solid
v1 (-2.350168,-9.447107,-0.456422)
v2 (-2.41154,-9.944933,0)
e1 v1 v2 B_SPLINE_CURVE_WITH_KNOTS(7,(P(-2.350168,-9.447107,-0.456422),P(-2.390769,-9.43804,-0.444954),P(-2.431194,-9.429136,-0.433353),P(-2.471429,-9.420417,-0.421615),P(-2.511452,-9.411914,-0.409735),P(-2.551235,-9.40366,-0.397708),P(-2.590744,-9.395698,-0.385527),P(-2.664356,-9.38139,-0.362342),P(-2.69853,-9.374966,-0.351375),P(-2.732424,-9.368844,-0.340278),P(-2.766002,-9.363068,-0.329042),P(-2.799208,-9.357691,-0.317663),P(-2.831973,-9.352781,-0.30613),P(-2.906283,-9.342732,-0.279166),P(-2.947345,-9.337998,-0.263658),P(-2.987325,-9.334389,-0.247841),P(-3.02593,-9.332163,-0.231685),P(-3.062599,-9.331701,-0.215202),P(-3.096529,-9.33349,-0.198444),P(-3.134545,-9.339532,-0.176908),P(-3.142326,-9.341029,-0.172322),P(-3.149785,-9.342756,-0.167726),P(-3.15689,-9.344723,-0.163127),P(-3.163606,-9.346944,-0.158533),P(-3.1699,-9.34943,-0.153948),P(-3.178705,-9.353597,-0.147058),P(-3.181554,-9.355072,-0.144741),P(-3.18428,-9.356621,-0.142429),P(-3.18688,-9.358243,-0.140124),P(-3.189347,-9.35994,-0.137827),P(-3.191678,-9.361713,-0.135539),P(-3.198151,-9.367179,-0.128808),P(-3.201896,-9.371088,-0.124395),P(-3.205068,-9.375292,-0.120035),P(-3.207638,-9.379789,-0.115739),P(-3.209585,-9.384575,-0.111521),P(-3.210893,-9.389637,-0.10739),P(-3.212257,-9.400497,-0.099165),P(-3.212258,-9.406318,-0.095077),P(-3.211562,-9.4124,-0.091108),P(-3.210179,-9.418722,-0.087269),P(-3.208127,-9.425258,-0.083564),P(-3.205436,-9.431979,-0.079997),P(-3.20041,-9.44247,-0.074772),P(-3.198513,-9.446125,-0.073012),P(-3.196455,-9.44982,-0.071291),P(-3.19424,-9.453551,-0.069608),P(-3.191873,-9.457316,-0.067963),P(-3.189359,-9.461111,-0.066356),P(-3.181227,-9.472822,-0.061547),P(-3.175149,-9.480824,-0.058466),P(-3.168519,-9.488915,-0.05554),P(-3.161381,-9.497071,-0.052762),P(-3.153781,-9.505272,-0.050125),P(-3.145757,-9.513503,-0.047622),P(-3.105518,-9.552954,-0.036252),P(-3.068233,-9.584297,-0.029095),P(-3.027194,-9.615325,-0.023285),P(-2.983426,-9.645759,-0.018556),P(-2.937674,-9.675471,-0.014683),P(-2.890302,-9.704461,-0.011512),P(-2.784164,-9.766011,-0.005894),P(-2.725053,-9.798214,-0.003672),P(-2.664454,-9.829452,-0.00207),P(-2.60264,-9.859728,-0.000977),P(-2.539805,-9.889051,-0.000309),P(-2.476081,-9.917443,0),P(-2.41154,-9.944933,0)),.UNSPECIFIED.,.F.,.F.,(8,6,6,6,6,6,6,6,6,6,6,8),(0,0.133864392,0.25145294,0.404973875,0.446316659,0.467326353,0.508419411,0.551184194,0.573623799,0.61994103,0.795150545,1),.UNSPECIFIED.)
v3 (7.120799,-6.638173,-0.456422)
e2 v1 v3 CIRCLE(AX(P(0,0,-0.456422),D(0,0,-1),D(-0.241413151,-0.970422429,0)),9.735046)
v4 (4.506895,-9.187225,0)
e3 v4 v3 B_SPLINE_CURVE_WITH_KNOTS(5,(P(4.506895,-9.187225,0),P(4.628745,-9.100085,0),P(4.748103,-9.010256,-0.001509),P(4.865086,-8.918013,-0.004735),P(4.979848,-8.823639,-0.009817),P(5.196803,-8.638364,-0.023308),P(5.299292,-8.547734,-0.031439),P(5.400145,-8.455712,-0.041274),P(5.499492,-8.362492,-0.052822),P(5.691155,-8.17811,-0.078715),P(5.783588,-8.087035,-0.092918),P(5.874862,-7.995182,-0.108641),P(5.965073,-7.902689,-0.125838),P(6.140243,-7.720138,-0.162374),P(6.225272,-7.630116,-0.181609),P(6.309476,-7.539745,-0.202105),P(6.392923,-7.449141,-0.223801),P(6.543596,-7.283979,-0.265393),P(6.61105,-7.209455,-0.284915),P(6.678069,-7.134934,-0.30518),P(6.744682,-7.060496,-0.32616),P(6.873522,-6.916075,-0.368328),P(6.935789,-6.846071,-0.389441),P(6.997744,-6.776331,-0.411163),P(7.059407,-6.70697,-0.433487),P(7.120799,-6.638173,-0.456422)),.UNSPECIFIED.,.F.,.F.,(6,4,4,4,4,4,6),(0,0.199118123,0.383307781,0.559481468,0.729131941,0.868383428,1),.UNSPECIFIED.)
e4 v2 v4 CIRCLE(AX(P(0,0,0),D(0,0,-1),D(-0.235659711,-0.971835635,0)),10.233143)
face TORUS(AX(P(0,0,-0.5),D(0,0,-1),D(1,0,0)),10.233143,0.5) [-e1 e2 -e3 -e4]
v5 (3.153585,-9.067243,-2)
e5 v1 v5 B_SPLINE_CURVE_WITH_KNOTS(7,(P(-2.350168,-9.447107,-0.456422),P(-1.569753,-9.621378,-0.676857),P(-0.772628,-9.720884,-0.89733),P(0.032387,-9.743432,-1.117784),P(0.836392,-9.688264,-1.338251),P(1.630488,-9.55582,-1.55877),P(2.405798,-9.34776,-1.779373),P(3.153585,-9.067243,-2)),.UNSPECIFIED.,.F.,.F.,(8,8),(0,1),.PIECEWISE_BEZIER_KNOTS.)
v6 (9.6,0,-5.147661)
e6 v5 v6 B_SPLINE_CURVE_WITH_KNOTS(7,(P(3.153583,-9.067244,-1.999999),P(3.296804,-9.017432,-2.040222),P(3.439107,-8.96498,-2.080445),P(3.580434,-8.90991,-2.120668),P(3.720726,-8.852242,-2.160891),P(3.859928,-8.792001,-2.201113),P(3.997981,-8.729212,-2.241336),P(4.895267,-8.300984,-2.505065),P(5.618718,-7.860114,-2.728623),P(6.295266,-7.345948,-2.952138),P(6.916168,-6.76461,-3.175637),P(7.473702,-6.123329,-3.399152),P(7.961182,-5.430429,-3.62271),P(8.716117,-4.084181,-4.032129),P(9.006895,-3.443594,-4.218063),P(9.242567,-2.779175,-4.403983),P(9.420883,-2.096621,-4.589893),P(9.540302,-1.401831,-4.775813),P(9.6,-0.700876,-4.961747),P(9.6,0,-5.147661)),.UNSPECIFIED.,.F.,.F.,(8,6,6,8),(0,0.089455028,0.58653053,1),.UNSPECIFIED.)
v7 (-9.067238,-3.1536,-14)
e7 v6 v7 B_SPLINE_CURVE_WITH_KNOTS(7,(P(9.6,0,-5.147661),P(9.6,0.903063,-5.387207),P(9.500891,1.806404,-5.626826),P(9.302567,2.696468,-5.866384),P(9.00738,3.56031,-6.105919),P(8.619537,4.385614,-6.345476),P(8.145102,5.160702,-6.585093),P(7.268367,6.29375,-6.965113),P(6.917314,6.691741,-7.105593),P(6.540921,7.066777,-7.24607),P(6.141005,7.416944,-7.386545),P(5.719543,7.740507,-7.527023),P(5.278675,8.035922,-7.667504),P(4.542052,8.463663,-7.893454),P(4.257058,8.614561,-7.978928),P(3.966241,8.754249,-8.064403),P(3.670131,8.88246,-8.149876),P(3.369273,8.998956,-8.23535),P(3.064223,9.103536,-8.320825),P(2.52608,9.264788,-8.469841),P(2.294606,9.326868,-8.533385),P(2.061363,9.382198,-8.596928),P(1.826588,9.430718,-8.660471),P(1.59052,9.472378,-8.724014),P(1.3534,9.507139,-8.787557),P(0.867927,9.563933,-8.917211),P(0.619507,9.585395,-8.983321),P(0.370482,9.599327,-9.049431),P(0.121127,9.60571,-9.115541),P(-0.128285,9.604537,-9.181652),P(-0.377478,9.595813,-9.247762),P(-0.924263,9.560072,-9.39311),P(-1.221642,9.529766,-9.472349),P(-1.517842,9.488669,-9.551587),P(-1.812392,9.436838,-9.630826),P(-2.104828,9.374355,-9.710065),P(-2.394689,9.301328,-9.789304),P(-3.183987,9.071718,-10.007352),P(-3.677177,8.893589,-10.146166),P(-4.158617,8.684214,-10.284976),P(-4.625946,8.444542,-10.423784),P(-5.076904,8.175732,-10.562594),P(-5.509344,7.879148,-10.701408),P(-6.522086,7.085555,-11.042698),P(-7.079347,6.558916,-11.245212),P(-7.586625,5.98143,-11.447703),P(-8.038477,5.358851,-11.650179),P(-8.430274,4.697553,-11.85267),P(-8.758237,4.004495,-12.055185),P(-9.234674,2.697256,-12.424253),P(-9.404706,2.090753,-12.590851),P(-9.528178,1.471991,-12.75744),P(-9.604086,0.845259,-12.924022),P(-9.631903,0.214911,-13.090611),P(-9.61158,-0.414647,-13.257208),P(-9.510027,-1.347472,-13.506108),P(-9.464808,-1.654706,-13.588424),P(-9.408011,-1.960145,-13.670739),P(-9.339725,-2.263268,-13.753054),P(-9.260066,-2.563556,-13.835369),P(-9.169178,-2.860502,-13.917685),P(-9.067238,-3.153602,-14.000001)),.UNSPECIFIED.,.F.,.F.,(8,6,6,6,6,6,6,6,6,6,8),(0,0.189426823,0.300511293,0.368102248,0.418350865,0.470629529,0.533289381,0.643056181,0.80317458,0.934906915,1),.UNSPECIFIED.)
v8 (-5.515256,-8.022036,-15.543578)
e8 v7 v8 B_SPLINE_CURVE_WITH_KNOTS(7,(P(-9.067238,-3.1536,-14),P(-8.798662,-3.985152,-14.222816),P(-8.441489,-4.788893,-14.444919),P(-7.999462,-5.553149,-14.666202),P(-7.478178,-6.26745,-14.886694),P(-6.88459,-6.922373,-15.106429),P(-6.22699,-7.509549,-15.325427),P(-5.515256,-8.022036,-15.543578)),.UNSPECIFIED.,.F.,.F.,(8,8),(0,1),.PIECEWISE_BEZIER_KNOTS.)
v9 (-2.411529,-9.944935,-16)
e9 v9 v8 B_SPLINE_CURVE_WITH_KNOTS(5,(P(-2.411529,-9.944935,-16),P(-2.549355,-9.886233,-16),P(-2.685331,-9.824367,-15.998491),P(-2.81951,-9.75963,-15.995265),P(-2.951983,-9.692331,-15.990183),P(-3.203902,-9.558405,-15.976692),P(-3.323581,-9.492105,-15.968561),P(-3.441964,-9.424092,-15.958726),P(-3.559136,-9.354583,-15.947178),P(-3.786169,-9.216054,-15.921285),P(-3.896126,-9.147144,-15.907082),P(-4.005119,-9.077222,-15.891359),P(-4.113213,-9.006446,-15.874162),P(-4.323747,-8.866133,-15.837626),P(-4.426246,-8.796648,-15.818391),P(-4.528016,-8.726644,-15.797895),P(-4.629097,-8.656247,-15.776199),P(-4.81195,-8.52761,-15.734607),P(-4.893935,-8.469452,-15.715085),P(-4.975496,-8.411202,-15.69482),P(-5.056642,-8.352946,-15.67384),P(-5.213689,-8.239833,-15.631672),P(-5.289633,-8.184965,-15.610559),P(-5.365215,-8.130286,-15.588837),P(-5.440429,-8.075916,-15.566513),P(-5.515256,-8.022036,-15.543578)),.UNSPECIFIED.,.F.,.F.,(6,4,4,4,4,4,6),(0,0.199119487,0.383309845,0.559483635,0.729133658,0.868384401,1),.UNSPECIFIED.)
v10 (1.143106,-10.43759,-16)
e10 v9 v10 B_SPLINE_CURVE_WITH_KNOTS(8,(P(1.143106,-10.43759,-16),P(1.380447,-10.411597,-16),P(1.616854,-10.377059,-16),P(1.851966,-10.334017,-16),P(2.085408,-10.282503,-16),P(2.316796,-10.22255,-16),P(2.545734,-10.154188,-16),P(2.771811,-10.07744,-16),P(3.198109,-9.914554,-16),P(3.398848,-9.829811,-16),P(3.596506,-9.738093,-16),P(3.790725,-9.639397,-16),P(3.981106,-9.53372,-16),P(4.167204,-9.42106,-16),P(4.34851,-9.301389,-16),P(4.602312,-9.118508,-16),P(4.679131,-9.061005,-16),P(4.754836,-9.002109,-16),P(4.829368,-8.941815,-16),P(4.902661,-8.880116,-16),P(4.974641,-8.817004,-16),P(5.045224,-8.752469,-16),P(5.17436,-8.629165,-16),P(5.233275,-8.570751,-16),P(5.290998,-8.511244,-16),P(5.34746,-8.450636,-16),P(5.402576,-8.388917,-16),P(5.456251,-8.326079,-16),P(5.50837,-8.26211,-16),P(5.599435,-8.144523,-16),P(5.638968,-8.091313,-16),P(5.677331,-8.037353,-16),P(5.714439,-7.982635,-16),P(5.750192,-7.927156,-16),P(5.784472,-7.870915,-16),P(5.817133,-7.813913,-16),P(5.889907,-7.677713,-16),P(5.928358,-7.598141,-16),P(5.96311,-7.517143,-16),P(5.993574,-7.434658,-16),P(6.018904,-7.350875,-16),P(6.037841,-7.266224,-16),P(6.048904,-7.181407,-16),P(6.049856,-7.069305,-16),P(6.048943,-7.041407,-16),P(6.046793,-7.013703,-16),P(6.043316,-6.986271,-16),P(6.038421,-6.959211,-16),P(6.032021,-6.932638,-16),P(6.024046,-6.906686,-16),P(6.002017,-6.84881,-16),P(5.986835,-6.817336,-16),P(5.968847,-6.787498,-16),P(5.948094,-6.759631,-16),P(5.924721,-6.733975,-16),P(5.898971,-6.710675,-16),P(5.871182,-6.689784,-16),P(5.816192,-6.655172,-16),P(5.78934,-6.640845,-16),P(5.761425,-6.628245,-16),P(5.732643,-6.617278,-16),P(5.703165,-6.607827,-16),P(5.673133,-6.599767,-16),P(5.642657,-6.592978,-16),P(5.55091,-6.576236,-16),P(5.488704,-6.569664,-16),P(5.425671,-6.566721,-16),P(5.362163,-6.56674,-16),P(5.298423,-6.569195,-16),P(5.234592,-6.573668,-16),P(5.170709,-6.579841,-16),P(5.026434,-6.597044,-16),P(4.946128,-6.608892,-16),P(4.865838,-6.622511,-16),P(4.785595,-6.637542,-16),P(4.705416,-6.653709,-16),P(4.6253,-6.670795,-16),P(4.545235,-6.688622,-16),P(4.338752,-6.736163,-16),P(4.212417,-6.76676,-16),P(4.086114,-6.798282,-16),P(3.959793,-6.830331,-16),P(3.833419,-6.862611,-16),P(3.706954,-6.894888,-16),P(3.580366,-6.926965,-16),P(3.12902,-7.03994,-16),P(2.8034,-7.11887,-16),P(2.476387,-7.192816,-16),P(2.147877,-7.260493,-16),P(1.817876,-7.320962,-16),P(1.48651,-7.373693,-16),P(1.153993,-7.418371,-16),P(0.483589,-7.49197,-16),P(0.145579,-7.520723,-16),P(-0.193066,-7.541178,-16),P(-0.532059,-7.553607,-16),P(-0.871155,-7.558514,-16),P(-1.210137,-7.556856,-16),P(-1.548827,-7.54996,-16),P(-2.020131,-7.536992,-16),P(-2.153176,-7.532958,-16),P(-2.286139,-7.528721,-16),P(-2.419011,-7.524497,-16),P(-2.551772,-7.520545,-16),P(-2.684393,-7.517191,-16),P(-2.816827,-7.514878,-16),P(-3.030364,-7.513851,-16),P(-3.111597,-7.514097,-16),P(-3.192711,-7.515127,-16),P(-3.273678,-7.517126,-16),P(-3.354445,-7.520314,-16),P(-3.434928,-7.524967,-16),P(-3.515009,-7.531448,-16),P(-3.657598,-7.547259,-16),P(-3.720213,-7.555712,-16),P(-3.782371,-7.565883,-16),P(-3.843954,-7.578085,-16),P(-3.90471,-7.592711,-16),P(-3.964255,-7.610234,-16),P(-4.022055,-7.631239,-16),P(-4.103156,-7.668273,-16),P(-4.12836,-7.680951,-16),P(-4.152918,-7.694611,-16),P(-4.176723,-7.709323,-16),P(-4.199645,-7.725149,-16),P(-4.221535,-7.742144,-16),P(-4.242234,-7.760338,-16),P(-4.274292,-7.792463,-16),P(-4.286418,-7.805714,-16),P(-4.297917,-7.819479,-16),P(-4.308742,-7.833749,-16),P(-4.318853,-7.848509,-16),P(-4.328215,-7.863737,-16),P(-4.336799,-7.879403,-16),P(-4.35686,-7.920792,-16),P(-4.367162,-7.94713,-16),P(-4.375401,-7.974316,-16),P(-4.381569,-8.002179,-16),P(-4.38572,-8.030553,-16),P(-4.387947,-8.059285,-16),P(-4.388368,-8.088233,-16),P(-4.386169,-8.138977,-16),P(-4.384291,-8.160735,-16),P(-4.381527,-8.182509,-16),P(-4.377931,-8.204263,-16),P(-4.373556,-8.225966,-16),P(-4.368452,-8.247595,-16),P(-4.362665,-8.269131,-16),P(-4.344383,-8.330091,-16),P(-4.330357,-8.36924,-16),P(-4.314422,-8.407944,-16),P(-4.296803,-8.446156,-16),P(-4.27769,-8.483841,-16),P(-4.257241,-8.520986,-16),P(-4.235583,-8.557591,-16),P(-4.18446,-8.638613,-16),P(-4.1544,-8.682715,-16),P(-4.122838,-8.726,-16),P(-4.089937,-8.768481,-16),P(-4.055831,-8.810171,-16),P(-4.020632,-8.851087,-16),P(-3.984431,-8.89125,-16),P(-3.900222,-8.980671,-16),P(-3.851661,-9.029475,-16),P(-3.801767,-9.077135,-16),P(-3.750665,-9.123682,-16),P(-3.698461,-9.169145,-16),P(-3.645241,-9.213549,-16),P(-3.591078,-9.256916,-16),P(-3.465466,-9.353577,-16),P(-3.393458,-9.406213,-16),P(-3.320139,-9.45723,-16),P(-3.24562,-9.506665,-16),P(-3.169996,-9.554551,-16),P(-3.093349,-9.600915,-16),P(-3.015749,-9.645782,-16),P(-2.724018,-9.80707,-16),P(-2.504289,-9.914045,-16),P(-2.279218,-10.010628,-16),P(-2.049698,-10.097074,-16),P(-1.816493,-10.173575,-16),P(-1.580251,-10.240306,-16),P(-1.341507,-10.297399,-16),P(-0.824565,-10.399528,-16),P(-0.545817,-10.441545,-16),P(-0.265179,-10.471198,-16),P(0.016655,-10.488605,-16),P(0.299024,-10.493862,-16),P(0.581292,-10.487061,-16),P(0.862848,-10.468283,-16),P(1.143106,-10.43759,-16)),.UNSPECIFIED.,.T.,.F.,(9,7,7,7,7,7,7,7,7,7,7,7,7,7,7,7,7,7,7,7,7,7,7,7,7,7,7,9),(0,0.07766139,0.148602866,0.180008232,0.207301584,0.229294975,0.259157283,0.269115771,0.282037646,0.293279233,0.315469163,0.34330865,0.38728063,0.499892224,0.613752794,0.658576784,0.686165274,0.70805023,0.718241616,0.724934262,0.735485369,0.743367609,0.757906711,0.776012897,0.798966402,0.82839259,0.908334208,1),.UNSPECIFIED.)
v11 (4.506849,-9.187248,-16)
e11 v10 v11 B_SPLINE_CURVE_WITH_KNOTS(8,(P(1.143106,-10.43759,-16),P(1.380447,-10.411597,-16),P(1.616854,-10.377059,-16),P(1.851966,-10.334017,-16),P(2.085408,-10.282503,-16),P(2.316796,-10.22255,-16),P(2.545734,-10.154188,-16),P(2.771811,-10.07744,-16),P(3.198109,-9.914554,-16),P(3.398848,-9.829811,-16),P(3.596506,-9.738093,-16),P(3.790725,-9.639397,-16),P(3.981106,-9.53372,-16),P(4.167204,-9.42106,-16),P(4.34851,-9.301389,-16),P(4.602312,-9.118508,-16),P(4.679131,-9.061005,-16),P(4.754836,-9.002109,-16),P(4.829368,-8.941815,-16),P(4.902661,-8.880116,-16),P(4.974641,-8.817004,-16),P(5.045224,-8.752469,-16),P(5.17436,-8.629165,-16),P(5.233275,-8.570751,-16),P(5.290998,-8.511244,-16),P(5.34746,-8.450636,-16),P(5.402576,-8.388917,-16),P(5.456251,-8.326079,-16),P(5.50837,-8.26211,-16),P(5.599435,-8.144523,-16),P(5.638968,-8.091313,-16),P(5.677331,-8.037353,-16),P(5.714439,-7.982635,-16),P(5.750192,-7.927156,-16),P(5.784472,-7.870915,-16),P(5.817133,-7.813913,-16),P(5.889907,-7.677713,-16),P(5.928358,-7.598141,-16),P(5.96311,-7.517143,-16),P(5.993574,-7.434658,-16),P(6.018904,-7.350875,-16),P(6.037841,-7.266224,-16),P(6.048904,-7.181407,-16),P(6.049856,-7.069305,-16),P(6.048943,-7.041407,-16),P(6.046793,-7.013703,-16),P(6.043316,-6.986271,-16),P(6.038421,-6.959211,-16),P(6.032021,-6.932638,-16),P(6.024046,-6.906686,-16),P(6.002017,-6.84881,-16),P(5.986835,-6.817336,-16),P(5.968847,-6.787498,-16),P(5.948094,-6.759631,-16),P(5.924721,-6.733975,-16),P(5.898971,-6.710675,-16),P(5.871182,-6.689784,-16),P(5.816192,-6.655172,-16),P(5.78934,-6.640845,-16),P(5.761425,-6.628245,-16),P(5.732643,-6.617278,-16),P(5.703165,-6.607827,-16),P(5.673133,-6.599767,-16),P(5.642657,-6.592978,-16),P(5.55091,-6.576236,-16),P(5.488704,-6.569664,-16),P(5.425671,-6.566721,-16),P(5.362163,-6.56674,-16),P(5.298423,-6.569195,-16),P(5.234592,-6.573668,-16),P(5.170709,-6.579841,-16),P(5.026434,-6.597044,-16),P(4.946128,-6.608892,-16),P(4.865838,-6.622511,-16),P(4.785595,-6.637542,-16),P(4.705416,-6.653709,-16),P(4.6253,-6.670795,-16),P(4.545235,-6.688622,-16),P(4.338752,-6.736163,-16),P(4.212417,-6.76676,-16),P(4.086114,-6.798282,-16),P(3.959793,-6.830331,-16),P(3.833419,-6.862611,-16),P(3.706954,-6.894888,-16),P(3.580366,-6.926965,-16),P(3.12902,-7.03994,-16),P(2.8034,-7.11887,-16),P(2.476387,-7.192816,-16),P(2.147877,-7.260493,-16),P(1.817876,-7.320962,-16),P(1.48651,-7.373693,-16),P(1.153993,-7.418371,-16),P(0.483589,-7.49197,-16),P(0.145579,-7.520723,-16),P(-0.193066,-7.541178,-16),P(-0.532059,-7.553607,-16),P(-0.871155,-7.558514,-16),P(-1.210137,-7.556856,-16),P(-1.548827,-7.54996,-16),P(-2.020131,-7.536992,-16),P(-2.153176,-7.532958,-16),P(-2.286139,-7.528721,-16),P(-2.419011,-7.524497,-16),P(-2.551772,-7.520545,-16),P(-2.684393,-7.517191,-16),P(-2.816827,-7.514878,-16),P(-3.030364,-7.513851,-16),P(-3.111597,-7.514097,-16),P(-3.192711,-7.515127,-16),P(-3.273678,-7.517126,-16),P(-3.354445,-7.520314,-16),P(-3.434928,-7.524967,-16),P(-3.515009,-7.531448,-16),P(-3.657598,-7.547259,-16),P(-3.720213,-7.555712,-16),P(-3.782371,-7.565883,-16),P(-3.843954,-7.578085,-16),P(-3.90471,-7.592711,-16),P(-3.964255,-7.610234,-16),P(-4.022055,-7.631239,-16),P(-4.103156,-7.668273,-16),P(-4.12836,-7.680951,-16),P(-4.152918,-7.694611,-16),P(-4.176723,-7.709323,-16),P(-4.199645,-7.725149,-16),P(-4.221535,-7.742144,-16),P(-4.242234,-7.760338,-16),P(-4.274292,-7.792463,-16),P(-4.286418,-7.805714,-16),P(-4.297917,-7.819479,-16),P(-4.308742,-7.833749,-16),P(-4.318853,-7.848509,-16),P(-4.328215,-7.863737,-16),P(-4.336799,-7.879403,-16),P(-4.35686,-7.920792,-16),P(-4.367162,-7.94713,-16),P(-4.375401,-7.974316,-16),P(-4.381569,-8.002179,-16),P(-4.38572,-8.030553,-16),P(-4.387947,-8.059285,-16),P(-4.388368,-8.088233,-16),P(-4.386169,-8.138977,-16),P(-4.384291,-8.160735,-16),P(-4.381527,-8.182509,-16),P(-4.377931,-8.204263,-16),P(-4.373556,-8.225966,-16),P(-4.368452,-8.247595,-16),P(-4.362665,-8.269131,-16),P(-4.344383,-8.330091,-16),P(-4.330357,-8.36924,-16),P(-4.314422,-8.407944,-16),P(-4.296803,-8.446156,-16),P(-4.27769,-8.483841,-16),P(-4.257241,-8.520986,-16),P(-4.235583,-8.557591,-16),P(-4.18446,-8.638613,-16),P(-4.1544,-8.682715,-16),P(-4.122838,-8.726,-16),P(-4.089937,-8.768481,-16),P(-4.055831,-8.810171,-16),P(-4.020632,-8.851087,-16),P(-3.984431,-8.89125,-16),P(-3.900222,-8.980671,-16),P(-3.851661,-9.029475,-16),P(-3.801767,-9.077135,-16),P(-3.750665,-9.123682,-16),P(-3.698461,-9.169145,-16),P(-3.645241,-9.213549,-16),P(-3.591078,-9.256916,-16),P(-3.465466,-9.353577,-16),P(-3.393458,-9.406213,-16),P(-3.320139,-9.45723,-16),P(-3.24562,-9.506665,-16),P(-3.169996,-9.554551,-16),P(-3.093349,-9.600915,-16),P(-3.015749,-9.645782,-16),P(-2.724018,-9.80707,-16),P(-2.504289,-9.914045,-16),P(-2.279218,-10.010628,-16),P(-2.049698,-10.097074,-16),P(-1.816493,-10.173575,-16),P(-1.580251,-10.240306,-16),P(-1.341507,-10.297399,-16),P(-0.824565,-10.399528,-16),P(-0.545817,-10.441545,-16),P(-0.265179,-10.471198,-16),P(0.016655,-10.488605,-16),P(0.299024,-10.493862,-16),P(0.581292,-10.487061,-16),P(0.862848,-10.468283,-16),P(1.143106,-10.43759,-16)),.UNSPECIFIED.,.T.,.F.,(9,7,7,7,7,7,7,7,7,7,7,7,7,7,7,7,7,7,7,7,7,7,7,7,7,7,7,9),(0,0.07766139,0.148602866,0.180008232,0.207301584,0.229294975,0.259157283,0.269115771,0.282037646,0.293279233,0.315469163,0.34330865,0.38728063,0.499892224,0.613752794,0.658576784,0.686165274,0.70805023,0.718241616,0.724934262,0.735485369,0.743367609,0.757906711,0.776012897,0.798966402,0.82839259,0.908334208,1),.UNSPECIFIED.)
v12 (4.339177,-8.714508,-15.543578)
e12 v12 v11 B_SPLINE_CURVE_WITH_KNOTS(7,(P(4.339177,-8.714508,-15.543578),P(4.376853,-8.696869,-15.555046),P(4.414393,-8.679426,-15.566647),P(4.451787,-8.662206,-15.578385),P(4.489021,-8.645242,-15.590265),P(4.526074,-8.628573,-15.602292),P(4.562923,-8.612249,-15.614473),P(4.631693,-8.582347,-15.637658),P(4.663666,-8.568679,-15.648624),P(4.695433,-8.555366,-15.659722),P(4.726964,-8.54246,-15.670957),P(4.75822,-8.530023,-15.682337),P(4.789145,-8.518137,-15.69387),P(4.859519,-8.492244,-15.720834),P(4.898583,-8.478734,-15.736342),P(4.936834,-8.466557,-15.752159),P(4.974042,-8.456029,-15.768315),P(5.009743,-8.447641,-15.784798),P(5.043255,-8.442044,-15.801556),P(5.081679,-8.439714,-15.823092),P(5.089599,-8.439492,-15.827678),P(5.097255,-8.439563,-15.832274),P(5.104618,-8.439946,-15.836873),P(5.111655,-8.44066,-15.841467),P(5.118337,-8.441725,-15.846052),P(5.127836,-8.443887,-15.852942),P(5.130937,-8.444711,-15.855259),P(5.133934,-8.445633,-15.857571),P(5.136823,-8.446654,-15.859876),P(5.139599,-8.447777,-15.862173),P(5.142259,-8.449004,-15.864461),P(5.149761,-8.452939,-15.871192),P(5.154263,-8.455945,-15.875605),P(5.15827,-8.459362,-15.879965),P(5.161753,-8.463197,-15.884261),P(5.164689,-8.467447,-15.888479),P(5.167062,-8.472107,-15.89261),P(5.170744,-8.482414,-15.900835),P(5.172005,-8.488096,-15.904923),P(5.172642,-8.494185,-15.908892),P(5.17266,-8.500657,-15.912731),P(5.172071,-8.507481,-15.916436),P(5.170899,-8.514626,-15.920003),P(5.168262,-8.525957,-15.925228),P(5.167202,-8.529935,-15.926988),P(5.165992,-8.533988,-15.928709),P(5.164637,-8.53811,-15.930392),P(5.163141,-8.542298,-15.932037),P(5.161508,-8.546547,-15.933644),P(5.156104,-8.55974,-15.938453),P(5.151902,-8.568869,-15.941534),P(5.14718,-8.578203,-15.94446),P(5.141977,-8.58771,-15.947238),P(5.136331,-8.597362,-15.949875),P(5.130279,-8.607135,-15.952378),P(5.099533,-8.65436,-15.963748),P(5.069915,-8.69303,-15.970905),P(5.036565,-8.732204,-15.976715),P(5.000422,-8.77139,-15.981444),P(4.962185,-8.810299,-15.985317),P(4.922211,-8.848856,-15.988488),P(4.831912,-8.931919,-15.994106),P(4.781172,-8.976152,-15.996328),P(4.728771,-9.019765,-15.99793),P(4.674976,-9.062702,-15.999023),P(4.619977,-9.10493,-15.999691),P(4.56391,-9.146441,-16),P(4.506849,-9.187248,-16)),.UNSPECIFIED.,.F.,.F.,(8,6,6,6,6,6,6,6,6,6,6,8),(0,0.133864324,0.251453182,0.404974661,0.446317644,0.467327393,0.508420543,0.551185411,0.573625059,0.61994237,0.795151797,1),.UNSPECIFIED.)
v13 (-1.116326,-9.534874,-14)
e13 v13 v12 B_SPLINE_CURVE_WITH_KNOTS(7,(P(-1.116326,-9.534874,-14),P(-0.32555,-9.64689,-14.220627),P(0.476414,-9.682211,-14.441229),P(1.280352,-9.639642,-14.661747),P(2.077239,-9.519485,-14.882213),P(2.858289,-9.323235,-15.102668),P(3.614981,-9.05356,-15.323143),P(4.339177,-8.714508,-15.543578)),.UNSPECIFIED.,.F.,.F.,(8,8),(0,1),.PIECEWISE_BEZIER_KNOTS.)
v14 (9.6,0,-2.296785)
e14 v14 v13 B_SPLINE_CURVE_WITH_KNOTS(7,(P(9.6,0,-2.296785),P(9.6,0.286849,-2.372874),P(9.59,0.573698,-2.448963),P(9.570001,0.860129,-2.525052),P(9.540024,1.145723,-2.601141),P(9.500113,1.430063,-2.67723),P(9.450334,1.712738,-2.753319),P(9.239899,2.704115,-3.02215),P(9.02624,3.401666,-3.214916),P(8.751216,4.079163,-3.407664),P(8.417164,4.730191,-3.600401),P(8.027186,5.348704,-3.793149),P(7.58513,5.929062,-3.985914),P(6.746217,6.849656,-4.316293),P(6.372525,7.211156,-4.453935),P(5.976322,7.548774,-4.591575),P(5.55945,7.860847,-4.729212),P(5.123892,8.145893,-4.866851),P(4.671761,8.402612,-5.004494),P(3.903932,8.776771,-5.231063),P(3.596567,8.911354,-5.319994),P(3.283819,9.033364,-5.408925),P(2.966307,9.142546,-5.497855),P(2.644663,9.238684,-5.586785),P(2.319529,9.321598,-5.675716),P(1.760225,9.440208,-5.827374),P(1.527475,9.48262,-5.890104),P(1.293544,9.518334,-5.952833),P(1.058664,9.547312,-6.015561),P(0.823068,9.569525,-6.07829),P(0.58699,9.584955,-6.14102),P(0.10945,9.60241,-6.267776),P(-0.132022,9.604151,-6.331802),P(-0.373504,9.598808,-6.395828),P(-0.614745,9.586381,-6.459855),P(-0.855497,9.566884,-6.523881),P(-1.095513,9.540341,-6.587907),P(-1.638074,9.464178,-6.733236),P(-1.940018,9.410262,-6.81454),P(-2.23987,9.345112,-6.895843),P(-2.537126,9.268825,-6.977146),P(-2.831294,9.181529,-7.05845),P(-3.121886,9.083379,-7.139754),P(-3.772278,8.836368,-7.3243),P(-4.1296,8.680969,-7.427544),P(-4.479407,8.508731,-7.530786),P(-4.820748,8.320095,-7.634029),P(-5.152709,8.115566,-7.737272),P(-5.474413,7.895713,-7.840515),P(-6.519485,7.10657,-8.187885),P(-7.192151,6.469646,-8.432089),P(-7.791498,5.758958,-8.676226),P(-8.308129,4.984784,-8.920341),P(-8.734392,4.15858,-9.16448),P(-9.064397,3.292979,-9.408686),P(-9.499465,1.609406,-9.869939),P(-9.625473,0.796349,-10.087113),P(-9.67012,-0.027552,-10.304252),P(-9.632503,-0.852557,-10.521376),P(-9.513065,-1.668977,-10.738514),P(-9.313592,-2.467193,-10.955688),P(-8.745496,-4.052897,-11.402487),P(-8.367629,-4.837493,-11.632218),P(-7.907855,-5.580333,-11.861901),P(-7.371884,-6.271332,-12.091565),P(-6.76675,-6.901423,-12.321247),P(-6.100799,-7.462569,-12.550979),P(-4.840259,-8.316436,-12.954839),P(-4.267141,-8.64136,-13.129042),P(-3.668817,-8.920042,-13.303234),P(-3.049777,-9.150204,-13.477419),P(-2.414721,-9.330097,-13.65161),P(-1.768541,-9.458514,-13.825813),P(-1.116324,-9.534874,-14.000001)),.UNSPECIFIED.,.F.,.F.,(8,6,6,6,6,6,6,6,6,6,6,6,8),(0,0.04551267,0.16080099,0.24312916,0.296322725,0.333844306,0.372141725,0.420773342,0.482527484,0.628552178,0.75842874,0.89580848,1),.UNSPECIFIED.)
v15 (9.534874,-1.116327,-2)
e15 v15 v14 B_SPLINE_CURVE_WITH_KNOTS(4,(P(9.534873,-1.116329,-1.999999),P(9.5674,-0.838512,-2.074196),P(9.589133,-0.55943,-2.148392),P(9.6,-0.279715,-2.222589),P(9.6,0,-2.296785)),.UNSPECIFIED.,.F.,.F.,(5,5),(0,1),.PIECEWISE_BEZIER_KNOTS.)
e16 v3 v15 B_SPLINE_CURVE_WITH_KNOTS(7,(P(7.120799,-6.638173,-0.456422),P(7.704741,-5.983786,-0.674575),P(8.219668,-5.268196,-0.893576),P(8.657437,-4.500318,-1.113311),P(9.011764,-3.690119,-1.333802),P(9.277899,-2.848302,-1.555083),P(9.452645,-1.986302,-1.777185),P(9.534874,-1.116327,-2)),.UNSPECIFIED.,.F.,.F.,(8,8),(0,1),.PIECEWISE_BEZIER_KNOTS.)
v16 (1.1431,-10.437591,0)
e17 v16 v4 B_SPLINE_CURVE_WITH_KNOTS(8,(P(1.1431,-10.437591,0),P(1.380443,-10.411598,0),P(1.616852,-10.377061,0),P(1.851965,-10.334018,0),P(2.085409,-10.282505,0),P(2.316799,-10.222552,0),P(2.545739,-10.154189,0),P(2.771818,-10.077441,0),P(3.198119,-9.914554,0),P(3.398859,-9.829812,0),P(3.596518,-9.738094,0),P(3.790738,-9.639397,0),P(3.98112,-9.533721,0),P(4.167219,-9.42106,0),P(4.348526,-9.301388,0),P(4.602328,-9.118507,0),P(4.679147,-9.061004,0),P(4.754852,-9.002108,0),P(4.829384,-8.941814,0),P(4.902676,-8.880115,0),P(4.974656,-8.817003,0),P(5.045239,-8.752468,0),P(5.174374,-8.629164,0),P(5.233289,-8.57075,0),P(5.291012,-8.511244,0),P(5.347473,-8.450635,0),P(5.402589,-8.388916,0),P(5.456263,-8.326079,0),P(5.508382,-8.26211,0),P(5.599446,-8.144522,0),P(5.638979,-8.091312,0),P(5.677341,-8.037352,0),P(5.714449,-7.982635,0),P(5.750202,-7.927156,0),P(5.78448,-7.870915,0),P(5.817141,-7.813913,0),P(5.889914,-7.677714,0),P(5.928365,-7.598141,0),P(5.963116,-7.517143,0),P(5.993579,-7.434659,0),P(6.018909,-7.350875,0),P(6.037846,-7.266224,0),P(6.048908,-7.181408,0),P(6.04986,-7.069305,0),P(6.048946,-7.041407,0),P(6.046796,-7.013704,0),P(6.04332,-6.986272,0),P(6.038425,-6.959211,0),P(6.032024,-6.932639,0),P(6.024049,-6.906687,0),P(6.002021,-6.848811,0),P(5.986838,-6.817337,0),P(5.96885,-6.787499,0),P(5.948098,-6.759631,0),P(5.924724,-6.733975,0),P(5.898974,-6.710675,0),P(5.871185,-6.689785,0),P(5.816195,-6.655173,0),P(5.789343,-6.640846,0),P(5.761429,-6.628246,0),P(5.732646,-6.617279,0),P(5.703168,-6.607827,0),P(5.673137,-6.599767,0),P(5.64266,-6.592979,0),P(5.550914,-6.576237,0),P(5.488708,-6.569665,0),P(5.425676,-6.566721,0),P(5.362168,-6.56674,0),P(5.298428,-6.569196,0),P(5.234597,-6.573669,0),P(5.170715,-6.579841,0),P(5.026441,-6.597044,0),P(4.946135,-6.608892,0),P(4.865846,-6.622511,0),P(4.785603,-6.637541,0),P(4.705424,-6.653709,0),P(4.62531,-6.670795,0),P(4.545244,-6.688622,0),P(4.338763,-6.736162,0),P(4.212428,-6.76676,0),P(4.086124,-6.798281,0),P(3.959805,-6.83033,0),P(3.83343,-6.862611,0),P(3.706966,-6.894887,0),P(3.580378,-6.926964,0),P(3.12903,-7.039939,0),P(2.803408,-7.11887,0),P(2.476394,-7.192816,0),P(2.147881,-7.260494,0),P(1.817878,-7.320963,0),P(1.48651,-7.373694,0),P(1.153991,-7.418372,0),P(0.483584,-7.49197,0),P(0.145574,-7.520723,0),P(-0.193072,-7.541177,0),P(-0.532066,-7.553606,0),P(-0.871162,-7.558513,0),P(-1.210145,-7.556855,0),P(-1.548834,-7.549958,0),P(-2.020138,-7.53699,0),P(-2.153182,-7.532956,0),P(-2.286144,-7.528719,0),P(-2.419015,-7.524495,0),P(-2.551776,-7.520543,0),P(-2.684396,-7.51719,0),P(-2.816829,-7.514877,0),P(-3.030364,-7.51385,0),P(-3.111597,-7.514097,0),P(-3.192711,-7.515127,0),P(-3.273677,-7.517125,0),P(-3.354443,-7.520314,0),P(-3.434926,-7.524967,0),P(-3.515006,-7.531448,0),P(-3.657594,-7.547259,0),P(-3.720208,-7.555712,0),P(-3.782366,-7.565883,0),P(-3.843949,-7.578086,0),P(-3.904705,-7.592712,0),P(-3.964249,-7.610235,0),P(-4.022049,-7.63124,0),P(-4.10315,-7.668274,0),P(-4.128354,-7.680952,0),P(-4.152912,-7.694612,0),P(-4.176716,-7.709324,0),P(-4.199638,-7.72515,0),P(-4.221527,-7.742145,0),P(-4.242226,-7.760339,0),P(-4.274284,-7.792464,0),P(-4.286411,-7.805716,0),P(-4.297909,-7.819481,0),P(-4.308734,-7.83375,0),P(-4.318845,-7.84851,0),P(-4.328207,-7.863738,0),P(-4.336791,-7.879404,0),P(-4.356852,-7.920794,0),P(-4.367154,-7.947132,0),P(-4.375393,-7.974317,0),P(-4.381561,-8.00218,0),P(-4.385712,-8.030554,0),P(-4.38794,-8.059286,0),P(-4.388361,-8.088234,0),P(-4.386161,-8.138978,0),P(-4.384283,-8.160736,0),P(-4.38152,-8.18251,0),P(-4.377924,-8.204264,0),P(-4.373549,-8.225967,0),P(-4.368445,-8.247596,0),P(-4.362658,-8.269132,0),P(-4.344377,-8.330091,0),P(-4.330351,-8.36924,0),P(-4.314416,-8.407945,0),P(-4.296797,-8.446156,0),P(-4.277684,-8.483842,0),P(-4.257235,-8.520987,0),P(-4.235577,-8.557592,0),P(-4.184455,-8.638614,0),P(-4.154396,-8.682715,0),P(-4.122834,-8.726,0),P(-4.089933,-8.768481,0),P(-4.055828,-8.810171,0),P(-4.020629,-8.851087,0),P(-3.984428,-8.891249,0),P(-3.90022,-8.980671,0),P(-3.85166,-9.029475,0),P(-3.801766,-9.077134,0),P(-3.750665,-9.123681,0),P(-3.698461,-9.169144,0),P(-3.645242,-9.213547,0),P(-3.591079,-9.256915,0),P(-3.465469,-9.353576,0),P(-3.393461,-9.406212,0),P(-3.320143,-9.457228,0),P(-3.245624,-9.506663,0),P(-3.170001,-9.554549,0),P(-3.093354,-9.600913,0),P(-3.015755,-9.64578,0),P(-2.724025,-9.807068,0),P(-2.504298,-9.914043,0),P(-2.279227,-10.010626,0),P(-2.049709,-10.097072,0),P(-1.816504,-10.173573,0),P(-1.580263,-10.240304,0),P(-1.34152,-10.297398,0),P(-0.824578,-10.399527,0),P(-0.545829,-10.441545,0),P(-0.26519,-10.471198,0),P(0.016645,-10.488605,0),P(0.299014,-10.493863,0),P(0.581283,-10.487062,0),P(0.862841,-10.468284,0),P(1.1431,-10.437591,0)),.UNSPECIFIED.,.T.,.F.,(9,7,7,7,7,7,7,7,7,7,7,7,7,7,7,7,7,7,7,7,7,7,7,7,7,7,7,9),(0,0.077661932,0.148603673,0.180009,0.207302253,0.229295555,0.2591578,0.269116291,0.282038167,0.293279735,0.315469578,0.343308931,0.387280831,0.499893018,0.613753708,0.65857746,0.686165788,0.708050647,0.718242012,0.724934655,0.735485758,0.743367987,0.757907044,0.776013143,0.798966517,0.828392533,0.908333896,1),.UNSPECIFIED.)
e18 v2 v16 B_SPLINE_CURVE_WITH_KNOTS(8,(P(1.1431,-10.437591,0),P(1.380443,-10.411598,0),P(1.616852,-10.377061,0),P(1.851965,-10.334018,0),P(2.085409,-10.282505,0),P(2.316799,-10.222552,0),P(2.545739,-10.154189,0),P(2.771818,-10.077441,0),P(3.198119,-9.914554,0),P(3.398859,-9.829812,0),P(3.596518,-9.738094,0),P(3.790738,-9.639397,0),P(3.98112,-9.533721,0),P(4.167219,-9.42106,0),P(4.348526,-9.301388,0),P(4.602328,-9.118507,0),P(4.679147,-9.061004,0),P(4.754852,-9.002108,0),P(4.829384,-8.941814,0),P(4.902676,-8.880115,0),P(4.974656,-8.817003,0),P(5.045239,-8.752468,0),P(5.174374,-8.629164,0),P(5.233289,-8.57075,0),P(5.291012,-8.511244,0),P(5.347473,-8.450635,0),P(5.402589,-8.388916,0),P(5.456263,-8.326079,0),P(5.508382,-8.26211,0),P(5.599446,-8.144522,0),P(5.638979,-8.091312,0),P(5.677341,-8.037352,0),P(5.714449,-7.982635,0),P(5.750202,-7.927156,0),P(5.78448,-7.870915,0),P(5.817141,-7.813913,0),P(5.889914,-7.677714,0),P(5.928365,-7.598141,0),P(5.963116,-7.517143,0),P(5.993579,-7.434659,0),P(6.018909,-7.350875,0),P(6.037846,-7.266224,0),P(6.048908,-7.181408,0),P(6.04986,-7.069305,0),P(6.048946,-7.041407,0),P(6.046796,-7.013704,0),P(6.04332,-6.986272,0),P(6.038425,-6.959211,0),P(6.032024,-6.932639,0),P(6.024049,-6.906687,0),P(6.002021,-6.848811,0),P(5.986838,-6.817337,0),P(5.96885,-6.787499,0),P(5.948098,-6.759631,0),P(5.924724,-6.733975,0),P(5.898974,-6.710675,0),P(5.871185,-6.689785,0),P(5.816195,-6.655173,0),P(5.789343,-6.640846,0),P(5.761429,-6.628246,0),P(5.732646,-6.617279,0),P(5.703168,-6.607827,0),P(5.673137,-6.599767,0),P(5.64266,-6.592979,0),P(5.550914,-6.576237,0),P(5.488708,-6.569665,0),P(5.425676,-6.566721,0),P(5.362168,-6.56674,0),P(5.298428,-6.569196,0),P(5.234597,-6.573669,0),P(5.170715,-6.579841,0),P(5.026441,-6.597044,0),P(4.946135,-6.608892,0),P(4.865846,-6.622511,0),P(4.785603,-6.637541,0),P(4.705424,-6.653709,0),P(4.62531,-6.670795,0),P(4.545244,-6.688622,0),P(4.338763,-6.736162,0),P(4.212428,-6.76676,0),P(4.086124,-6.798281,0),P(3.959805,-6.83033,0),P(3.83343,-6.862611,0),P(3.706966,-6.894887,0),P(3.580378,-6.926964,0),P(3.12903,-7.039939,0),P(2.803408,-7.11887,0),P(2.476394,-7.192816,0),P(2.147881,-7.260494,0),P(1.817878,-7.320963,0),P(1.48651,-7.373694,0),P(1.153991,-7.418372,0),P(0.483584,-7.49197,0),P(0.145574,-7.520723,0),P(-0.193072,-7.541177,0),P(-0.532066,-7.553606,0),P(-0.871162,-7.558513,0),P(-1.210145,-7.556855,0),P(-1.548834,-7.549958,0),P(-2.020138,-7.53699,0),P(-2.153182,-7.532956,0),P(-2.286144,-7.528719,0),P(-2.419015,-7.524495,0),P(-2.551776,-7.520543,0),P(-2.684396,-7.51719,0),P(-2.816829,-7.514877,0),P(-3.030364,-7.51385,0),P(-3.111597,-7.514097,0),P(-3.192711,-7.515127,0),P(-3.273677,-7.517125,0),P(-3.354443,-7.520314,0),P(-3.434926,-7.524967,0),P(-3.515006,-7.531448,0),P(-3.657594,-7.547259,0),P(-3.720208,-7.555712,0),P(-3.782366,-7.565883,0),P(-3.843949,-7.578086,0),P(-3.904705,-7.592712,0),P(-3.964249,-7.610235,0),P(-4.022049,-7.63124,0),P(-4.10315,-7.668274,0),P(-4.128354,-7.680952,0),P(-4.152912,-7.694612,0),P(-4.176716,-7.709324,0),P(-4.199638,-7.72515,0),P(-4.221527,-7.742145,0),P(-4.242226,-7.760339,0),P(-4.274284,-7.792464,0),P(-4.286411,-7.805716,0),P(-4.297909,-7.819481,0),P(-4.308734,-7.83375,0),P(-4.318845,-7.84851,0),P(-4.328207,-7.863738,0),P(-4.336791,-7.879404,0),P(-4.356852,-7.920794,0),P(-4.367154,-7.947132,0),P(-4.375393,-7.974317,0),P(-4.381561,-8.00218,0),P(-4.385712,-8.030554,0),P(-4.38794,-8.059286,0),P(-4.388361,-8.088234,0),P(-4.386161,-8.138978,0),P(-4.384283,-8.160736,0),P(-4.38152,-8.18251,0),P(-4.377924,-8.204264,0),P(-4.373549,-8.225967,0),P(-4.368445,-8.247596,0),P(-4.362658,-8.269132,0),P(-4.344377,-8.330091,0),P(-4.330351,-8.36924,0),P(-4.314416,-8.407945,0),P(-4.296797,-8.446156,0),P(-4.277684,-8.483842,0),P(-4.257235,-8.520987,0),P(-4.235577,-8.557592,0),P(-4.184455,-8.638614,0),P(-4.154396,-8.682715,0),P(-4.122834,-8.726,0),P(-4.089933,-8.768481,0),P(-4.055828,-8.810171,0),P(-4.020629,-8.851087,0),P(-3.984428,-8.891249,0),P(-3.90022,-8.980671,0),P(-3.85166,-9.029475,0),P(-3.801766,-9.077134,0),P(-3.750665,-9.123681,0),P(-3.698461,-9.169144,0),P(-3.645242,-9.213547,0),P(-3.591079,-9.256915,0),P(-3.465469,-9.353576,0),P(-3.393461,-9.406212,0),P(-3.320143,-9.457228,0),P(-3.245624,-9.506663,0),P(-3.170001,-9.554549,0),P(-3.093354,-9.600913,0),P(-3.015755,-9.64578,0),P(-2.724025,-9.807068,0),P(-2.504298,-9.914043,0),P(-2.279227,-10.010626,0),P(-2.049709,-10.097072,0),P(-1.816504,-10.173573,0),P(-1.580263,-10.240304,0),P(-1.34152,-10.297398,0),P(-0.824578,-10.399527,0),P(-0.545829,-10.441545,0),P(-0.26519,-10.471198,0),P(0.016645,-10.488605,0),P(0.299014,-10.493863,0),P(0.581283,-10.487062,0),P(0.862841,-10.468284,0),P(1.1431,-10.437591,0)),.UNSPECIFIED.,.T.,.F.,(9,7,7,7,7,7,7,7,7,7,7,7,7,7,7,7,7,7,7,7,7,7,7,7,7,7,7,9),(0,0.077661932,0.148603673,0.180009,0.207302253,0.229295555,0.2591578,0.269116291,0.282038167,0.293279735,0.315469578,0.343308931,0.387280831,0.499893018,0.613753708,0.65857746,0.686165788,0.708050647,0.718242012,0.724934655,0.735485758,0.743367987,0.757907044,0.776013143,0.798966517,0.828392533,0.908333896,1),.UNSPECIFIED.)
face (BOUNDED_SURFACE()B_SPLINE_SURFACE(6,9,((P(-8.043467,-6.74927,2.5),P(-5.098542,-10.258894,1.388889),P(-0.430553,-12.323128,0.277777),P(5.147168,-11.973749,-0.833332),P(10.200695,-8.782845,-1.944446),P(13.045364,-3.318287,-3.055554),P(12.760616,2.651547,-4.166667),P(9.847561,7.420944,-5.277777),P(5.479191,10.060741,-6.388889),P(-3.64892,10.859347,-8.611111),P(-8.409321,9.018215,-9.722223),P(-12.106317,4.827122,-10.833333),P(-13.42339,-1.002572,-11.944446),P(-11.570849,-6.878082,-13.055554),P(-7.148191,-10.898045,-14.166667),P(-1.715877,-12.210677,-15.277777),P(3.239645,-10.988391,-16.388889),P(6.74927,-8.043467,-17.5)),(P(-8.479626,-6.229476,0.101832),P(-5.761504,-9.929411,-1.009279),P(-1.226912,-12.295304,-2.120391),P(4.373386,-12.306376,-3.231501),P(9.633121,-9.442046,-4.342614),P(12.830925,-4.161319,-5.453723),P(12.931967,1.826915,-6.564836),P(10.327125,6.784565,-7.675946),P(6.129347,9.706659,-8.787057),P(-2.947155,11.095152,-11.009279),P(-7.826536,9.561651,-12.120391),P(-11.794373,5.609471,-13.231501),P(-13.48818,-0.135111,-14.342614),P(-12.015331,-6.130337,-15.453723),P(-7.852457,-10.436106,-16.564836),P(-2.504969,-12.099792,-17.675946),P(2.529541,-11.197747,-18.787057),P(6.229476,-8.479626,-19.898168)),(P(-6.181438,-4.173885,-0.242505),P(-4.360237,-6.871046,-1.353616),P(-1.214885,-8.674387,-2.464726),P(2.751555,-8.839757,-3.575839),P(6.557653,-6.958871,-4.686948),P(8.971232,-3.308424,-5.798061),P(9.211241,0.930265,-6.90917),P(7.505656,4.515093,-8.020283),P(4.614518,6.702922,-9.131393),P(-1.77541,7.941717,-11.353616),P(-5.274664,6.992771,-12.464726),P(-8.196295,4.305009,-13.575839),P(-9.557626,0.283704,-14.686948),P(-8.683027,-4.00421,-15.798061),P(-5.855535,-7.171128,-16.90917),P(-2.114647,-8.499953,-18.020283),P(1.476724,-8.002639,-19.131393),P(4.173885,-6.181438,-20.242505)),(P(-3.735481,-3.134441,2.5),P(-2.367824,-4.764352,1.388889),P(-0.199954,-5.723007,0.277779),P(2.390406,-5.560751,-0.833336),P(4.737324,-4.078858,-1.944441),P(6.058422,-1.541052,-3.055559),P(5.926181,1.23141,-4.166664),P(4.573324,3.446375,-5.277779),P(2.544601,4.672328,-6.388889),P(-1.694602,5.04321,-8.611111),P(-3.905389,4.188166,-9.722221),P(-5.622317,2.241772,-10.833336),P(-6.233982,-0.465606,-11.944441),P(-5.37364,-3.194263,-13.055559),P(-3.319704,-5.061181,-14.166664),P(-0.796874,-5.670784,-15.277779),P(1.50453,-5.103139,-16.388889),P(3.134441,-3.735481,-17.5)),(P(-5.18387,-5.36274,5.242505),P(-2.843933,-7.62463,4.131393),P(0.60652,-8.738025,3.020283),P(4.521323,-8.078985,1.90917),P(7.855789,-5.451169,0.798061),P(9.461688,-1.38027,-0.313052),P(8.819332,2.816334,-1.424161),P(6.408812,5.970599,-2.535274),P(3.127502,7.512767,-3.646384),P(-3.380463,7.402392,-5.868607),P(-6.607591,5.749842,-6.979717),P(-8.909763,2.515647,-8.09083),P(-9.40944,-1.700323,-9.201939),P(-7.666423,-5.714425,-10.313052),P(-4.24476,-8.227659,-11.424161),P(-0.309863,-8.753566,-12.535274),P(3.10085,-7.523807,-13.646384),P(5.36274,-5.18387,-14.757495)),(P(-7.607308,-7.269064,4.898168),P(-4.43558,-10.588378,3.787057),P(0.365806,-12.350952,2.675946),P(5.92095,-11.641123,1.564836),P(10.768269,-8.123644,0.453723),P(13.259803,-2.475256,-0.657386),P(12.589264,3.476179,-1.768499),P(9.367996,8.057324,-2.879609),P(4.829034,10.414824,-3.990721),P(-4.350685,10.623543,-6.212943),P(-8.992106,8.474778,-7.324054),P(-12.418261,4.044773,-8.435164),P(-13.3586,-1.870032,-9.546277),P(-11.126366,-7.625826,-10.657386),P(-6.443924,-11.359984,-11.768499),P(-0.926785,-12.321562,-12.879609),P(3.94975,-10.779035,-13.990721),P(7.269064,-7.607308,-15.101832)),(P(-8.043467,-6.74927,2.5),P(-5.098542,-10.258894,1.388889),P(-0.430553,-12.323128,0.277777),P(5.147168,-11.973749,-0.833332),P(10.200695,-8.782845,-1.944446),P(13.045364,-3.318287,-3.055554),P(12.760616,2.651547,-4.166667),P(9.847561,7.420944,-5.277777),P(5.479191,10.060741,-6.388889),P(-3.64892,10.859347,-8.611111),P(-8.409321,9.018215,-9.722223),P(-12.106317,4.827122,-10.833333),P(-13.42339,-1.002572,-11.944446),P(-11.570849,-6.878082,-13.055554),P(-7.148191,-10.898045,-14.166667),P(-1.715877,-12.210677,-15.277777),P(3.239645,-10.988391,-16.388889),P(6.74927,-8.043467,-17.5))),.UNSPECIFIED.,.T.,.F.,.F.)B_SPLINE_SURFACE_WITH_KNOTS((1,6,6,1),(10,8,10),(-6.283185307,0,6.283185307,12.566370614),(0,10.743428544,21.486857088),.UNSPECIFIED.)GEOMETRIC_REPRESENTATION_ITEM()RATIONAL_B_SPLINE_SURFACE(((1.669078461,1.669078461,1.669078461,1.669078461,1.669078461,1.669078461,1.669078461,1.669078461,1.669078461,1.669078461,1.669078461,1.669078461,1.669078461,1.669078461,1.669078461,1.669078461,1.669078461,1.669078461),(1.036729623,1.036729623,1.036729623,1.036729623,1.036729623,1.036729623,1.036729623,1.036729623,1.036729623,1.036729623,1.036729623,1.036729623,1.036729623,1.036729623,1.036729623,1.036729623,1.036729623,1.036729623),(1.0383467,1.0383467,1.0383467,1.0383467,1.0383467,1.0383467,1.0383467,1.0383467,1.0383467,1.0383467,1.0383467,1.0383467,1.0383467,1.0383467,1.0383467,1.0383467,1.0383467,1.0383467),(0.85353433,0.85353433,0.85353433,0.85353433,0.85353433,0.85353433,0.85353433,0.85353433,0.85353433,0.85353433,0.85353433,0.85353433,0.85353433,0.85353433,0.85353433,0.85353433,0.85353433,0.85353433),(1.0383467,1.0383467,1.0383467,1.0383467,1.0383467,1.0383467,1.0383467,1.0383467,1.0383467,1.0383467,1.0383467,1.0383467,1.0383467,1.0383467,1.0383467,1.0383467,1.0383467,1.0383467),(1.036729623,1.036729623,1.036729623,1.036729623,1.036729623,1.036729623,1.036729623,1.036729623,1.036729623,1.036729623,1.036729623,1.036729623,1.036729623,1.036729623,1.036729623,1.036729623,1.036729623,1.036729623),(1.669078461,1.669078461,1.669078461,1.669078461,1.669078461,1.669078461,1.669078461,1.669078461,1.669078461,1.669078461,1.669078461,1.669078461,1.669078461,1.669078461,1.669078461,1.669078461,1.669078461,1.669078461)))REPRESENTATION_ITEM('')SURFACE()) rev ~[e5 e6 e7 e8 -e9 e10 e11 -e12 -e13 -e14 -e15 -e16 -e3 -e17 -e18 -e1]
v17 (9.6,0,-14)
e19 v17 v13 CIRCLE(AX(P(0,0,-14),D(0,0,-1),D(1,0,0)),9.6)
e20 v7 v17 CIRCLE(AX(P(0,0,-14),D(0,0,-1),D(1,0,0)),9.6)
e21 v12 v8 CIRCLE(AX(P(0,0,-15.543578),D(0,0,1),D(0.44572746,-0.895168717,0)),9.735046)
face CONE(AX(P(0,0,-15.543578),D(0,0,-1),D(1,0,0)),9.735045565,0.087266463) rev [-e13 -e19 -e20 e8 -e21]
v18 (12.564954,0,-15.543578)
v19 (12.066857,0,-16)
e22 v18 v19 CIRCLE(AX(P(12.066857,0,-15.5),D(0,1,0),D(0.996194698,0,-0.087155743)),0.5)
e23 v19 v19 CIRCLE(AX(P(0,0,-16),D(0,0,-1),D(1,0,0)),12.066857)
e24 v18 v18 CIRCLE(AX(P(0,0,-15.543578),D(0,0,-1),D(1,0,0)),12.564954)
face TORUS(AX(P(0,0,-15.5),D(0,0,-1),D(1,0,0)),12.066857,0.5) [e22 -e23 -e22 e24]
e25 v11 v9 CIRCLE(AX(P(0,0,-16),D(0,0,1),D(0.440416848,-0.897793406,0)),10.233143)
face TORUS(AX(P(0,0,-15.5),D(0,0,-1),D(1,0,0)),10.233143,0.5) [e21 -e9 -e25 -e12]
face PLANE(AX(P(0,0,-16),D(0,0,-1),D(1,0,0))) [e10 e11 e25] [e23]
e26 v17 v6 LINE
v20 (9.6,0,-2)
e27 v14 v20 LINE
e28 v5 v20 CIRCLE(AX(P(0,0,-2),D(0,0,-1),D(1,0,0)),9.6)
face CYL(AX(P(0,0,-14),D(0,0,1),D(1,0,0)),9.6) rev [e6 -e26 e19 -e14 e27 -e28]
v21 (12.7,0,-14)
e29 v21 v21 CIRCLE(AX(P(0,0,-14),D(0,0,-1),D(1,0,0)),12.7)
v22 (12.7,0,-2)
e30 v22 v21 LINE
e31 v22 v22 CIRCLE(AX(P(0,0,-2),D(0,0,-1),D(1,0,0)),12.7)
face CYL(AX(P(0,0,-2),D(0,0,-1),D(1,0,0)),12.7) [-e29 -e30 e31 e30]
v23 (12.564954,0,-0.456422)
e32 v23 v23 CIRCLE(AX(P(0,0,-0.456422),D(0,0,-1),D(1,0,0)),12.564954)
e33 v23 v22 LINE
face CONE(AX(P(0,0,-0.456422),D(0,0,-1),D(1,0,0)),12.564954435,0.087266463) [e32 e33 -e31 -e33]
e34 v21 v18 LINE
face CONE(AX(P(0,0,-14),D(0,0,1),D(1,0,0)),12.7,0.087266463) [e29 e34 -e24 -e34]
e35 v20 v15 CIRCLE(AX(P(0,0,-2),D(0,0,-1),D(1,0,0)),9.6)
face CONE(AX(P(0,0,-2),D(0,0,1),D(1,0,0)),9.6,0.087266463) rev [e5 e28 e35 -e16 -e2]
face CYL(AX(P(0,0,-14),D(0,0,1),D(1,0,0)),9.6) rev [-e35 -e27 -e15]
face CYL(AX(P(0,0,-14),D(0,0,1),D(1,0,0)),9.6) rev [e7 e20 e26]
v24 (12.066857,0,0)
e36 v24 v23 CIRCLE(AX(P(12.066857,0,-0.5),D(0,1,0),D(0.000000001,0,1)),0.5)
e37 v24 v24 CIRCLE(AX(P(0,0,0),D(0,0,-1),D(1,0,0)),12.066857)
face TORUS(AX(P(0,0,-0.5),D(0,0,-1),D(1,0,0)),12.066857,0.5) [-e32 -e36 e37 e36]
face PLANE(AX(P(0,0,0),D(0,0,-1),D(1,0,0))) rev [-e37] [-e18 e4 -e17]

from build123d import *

# Parameters (mm, degrees)
CUT_SWEEP2_PITCH       = 16
CUT_SWEEP2_HEIGHT      = 20
CUT_SWEEP2_RADIUS      = 9
CUT_SWEEP2_START_ANGLE = -40
CUT_SWEEP2_PROFILE_R   = 1.5


with BuildPart() as part:
    # Sketch1 → Revolve1 (revolve)
    with BuildSketch(Plane(origin=(0, 0, 0), x_dir=(0, 0, -1), z_dir=(1, 0, 0)), mode=Mode.PRIVATE) as revolve1_sk:
        with BuildLine():
            Line((0, 10.233142914), (0, 12.066857086))
            ThreePointArc((0, 12.066857086), (0.131361332, 12.40465219), (0.456422129, 12.564954435))
            Line((0.456422129, 12.564954435), (2, 12.7))
            Line((2, 12.7), (14, 12.7))
            Line((14, 12.7), (15.543577871, 12.564954435))
            ThreePointArc((15.543577871, 12.564954435), (15.868638668, 12.40465219), (16, 12.066857086))
            Line((16, 12.066857086), (16, 10.233142914))
            ThreePointArc((16, 10.233142914), (15.868638668, 9.89534781), (15.543577871, 9.735045565))
            Line((15.543577871, 9.735045565), (14, 9.6))
            Line((14, 9.6), (2, 9.6))
            Line((2, 9.6), (0.456422129, 9.735045565))
            ThreePointArc((0.456422129, 9.735045565), (0.131361332, 9.89534781), (0, 10.233142914))
        make_face()
    revolve(revolve1_sk.sketch.rotate(Axis((0, 0, 0), (0, 0, -1)), 90), axis=Axis((0, 0, 0), (0, 0, -1)))

    # Cut-Sweep2: sweep along a helix
    with BuildLine() as cut_sweep2_path:
        add(Helix(CUT_SWEEP2_PITCH, CUT_SWEEP2_HEIGHT, CUT_SWEEP2_RADIUS, center=(0, 0, 2.5), direction=(0, 0, -1), lefthand=True, mode=Mode.PRIVATE).rotate(Axis((0, 0, 2.5), (0, 0, -1)), CUT_SWEEP2_START_ANGLE))
    # Cut-Sweep2 profile (on start of the path) → Cut-Sweep2 (sweep, cut)
    with BuildSketch(Plane(origin=(-6.894399988, -5.785088487, 2.5), x_dir=(-0.766044443118879, -0.6427876096866574, 0), z_dir=(0.6185065608318021, -0.7371074159141587, -0.27225409383950105))):
        Circle(CUT_SWEEP2_PROFILE_R)
    sweep(path=cut_sweep2_path.line, is_frenet=True, mode=Mode.SUBTRACT)


solid = part.part
